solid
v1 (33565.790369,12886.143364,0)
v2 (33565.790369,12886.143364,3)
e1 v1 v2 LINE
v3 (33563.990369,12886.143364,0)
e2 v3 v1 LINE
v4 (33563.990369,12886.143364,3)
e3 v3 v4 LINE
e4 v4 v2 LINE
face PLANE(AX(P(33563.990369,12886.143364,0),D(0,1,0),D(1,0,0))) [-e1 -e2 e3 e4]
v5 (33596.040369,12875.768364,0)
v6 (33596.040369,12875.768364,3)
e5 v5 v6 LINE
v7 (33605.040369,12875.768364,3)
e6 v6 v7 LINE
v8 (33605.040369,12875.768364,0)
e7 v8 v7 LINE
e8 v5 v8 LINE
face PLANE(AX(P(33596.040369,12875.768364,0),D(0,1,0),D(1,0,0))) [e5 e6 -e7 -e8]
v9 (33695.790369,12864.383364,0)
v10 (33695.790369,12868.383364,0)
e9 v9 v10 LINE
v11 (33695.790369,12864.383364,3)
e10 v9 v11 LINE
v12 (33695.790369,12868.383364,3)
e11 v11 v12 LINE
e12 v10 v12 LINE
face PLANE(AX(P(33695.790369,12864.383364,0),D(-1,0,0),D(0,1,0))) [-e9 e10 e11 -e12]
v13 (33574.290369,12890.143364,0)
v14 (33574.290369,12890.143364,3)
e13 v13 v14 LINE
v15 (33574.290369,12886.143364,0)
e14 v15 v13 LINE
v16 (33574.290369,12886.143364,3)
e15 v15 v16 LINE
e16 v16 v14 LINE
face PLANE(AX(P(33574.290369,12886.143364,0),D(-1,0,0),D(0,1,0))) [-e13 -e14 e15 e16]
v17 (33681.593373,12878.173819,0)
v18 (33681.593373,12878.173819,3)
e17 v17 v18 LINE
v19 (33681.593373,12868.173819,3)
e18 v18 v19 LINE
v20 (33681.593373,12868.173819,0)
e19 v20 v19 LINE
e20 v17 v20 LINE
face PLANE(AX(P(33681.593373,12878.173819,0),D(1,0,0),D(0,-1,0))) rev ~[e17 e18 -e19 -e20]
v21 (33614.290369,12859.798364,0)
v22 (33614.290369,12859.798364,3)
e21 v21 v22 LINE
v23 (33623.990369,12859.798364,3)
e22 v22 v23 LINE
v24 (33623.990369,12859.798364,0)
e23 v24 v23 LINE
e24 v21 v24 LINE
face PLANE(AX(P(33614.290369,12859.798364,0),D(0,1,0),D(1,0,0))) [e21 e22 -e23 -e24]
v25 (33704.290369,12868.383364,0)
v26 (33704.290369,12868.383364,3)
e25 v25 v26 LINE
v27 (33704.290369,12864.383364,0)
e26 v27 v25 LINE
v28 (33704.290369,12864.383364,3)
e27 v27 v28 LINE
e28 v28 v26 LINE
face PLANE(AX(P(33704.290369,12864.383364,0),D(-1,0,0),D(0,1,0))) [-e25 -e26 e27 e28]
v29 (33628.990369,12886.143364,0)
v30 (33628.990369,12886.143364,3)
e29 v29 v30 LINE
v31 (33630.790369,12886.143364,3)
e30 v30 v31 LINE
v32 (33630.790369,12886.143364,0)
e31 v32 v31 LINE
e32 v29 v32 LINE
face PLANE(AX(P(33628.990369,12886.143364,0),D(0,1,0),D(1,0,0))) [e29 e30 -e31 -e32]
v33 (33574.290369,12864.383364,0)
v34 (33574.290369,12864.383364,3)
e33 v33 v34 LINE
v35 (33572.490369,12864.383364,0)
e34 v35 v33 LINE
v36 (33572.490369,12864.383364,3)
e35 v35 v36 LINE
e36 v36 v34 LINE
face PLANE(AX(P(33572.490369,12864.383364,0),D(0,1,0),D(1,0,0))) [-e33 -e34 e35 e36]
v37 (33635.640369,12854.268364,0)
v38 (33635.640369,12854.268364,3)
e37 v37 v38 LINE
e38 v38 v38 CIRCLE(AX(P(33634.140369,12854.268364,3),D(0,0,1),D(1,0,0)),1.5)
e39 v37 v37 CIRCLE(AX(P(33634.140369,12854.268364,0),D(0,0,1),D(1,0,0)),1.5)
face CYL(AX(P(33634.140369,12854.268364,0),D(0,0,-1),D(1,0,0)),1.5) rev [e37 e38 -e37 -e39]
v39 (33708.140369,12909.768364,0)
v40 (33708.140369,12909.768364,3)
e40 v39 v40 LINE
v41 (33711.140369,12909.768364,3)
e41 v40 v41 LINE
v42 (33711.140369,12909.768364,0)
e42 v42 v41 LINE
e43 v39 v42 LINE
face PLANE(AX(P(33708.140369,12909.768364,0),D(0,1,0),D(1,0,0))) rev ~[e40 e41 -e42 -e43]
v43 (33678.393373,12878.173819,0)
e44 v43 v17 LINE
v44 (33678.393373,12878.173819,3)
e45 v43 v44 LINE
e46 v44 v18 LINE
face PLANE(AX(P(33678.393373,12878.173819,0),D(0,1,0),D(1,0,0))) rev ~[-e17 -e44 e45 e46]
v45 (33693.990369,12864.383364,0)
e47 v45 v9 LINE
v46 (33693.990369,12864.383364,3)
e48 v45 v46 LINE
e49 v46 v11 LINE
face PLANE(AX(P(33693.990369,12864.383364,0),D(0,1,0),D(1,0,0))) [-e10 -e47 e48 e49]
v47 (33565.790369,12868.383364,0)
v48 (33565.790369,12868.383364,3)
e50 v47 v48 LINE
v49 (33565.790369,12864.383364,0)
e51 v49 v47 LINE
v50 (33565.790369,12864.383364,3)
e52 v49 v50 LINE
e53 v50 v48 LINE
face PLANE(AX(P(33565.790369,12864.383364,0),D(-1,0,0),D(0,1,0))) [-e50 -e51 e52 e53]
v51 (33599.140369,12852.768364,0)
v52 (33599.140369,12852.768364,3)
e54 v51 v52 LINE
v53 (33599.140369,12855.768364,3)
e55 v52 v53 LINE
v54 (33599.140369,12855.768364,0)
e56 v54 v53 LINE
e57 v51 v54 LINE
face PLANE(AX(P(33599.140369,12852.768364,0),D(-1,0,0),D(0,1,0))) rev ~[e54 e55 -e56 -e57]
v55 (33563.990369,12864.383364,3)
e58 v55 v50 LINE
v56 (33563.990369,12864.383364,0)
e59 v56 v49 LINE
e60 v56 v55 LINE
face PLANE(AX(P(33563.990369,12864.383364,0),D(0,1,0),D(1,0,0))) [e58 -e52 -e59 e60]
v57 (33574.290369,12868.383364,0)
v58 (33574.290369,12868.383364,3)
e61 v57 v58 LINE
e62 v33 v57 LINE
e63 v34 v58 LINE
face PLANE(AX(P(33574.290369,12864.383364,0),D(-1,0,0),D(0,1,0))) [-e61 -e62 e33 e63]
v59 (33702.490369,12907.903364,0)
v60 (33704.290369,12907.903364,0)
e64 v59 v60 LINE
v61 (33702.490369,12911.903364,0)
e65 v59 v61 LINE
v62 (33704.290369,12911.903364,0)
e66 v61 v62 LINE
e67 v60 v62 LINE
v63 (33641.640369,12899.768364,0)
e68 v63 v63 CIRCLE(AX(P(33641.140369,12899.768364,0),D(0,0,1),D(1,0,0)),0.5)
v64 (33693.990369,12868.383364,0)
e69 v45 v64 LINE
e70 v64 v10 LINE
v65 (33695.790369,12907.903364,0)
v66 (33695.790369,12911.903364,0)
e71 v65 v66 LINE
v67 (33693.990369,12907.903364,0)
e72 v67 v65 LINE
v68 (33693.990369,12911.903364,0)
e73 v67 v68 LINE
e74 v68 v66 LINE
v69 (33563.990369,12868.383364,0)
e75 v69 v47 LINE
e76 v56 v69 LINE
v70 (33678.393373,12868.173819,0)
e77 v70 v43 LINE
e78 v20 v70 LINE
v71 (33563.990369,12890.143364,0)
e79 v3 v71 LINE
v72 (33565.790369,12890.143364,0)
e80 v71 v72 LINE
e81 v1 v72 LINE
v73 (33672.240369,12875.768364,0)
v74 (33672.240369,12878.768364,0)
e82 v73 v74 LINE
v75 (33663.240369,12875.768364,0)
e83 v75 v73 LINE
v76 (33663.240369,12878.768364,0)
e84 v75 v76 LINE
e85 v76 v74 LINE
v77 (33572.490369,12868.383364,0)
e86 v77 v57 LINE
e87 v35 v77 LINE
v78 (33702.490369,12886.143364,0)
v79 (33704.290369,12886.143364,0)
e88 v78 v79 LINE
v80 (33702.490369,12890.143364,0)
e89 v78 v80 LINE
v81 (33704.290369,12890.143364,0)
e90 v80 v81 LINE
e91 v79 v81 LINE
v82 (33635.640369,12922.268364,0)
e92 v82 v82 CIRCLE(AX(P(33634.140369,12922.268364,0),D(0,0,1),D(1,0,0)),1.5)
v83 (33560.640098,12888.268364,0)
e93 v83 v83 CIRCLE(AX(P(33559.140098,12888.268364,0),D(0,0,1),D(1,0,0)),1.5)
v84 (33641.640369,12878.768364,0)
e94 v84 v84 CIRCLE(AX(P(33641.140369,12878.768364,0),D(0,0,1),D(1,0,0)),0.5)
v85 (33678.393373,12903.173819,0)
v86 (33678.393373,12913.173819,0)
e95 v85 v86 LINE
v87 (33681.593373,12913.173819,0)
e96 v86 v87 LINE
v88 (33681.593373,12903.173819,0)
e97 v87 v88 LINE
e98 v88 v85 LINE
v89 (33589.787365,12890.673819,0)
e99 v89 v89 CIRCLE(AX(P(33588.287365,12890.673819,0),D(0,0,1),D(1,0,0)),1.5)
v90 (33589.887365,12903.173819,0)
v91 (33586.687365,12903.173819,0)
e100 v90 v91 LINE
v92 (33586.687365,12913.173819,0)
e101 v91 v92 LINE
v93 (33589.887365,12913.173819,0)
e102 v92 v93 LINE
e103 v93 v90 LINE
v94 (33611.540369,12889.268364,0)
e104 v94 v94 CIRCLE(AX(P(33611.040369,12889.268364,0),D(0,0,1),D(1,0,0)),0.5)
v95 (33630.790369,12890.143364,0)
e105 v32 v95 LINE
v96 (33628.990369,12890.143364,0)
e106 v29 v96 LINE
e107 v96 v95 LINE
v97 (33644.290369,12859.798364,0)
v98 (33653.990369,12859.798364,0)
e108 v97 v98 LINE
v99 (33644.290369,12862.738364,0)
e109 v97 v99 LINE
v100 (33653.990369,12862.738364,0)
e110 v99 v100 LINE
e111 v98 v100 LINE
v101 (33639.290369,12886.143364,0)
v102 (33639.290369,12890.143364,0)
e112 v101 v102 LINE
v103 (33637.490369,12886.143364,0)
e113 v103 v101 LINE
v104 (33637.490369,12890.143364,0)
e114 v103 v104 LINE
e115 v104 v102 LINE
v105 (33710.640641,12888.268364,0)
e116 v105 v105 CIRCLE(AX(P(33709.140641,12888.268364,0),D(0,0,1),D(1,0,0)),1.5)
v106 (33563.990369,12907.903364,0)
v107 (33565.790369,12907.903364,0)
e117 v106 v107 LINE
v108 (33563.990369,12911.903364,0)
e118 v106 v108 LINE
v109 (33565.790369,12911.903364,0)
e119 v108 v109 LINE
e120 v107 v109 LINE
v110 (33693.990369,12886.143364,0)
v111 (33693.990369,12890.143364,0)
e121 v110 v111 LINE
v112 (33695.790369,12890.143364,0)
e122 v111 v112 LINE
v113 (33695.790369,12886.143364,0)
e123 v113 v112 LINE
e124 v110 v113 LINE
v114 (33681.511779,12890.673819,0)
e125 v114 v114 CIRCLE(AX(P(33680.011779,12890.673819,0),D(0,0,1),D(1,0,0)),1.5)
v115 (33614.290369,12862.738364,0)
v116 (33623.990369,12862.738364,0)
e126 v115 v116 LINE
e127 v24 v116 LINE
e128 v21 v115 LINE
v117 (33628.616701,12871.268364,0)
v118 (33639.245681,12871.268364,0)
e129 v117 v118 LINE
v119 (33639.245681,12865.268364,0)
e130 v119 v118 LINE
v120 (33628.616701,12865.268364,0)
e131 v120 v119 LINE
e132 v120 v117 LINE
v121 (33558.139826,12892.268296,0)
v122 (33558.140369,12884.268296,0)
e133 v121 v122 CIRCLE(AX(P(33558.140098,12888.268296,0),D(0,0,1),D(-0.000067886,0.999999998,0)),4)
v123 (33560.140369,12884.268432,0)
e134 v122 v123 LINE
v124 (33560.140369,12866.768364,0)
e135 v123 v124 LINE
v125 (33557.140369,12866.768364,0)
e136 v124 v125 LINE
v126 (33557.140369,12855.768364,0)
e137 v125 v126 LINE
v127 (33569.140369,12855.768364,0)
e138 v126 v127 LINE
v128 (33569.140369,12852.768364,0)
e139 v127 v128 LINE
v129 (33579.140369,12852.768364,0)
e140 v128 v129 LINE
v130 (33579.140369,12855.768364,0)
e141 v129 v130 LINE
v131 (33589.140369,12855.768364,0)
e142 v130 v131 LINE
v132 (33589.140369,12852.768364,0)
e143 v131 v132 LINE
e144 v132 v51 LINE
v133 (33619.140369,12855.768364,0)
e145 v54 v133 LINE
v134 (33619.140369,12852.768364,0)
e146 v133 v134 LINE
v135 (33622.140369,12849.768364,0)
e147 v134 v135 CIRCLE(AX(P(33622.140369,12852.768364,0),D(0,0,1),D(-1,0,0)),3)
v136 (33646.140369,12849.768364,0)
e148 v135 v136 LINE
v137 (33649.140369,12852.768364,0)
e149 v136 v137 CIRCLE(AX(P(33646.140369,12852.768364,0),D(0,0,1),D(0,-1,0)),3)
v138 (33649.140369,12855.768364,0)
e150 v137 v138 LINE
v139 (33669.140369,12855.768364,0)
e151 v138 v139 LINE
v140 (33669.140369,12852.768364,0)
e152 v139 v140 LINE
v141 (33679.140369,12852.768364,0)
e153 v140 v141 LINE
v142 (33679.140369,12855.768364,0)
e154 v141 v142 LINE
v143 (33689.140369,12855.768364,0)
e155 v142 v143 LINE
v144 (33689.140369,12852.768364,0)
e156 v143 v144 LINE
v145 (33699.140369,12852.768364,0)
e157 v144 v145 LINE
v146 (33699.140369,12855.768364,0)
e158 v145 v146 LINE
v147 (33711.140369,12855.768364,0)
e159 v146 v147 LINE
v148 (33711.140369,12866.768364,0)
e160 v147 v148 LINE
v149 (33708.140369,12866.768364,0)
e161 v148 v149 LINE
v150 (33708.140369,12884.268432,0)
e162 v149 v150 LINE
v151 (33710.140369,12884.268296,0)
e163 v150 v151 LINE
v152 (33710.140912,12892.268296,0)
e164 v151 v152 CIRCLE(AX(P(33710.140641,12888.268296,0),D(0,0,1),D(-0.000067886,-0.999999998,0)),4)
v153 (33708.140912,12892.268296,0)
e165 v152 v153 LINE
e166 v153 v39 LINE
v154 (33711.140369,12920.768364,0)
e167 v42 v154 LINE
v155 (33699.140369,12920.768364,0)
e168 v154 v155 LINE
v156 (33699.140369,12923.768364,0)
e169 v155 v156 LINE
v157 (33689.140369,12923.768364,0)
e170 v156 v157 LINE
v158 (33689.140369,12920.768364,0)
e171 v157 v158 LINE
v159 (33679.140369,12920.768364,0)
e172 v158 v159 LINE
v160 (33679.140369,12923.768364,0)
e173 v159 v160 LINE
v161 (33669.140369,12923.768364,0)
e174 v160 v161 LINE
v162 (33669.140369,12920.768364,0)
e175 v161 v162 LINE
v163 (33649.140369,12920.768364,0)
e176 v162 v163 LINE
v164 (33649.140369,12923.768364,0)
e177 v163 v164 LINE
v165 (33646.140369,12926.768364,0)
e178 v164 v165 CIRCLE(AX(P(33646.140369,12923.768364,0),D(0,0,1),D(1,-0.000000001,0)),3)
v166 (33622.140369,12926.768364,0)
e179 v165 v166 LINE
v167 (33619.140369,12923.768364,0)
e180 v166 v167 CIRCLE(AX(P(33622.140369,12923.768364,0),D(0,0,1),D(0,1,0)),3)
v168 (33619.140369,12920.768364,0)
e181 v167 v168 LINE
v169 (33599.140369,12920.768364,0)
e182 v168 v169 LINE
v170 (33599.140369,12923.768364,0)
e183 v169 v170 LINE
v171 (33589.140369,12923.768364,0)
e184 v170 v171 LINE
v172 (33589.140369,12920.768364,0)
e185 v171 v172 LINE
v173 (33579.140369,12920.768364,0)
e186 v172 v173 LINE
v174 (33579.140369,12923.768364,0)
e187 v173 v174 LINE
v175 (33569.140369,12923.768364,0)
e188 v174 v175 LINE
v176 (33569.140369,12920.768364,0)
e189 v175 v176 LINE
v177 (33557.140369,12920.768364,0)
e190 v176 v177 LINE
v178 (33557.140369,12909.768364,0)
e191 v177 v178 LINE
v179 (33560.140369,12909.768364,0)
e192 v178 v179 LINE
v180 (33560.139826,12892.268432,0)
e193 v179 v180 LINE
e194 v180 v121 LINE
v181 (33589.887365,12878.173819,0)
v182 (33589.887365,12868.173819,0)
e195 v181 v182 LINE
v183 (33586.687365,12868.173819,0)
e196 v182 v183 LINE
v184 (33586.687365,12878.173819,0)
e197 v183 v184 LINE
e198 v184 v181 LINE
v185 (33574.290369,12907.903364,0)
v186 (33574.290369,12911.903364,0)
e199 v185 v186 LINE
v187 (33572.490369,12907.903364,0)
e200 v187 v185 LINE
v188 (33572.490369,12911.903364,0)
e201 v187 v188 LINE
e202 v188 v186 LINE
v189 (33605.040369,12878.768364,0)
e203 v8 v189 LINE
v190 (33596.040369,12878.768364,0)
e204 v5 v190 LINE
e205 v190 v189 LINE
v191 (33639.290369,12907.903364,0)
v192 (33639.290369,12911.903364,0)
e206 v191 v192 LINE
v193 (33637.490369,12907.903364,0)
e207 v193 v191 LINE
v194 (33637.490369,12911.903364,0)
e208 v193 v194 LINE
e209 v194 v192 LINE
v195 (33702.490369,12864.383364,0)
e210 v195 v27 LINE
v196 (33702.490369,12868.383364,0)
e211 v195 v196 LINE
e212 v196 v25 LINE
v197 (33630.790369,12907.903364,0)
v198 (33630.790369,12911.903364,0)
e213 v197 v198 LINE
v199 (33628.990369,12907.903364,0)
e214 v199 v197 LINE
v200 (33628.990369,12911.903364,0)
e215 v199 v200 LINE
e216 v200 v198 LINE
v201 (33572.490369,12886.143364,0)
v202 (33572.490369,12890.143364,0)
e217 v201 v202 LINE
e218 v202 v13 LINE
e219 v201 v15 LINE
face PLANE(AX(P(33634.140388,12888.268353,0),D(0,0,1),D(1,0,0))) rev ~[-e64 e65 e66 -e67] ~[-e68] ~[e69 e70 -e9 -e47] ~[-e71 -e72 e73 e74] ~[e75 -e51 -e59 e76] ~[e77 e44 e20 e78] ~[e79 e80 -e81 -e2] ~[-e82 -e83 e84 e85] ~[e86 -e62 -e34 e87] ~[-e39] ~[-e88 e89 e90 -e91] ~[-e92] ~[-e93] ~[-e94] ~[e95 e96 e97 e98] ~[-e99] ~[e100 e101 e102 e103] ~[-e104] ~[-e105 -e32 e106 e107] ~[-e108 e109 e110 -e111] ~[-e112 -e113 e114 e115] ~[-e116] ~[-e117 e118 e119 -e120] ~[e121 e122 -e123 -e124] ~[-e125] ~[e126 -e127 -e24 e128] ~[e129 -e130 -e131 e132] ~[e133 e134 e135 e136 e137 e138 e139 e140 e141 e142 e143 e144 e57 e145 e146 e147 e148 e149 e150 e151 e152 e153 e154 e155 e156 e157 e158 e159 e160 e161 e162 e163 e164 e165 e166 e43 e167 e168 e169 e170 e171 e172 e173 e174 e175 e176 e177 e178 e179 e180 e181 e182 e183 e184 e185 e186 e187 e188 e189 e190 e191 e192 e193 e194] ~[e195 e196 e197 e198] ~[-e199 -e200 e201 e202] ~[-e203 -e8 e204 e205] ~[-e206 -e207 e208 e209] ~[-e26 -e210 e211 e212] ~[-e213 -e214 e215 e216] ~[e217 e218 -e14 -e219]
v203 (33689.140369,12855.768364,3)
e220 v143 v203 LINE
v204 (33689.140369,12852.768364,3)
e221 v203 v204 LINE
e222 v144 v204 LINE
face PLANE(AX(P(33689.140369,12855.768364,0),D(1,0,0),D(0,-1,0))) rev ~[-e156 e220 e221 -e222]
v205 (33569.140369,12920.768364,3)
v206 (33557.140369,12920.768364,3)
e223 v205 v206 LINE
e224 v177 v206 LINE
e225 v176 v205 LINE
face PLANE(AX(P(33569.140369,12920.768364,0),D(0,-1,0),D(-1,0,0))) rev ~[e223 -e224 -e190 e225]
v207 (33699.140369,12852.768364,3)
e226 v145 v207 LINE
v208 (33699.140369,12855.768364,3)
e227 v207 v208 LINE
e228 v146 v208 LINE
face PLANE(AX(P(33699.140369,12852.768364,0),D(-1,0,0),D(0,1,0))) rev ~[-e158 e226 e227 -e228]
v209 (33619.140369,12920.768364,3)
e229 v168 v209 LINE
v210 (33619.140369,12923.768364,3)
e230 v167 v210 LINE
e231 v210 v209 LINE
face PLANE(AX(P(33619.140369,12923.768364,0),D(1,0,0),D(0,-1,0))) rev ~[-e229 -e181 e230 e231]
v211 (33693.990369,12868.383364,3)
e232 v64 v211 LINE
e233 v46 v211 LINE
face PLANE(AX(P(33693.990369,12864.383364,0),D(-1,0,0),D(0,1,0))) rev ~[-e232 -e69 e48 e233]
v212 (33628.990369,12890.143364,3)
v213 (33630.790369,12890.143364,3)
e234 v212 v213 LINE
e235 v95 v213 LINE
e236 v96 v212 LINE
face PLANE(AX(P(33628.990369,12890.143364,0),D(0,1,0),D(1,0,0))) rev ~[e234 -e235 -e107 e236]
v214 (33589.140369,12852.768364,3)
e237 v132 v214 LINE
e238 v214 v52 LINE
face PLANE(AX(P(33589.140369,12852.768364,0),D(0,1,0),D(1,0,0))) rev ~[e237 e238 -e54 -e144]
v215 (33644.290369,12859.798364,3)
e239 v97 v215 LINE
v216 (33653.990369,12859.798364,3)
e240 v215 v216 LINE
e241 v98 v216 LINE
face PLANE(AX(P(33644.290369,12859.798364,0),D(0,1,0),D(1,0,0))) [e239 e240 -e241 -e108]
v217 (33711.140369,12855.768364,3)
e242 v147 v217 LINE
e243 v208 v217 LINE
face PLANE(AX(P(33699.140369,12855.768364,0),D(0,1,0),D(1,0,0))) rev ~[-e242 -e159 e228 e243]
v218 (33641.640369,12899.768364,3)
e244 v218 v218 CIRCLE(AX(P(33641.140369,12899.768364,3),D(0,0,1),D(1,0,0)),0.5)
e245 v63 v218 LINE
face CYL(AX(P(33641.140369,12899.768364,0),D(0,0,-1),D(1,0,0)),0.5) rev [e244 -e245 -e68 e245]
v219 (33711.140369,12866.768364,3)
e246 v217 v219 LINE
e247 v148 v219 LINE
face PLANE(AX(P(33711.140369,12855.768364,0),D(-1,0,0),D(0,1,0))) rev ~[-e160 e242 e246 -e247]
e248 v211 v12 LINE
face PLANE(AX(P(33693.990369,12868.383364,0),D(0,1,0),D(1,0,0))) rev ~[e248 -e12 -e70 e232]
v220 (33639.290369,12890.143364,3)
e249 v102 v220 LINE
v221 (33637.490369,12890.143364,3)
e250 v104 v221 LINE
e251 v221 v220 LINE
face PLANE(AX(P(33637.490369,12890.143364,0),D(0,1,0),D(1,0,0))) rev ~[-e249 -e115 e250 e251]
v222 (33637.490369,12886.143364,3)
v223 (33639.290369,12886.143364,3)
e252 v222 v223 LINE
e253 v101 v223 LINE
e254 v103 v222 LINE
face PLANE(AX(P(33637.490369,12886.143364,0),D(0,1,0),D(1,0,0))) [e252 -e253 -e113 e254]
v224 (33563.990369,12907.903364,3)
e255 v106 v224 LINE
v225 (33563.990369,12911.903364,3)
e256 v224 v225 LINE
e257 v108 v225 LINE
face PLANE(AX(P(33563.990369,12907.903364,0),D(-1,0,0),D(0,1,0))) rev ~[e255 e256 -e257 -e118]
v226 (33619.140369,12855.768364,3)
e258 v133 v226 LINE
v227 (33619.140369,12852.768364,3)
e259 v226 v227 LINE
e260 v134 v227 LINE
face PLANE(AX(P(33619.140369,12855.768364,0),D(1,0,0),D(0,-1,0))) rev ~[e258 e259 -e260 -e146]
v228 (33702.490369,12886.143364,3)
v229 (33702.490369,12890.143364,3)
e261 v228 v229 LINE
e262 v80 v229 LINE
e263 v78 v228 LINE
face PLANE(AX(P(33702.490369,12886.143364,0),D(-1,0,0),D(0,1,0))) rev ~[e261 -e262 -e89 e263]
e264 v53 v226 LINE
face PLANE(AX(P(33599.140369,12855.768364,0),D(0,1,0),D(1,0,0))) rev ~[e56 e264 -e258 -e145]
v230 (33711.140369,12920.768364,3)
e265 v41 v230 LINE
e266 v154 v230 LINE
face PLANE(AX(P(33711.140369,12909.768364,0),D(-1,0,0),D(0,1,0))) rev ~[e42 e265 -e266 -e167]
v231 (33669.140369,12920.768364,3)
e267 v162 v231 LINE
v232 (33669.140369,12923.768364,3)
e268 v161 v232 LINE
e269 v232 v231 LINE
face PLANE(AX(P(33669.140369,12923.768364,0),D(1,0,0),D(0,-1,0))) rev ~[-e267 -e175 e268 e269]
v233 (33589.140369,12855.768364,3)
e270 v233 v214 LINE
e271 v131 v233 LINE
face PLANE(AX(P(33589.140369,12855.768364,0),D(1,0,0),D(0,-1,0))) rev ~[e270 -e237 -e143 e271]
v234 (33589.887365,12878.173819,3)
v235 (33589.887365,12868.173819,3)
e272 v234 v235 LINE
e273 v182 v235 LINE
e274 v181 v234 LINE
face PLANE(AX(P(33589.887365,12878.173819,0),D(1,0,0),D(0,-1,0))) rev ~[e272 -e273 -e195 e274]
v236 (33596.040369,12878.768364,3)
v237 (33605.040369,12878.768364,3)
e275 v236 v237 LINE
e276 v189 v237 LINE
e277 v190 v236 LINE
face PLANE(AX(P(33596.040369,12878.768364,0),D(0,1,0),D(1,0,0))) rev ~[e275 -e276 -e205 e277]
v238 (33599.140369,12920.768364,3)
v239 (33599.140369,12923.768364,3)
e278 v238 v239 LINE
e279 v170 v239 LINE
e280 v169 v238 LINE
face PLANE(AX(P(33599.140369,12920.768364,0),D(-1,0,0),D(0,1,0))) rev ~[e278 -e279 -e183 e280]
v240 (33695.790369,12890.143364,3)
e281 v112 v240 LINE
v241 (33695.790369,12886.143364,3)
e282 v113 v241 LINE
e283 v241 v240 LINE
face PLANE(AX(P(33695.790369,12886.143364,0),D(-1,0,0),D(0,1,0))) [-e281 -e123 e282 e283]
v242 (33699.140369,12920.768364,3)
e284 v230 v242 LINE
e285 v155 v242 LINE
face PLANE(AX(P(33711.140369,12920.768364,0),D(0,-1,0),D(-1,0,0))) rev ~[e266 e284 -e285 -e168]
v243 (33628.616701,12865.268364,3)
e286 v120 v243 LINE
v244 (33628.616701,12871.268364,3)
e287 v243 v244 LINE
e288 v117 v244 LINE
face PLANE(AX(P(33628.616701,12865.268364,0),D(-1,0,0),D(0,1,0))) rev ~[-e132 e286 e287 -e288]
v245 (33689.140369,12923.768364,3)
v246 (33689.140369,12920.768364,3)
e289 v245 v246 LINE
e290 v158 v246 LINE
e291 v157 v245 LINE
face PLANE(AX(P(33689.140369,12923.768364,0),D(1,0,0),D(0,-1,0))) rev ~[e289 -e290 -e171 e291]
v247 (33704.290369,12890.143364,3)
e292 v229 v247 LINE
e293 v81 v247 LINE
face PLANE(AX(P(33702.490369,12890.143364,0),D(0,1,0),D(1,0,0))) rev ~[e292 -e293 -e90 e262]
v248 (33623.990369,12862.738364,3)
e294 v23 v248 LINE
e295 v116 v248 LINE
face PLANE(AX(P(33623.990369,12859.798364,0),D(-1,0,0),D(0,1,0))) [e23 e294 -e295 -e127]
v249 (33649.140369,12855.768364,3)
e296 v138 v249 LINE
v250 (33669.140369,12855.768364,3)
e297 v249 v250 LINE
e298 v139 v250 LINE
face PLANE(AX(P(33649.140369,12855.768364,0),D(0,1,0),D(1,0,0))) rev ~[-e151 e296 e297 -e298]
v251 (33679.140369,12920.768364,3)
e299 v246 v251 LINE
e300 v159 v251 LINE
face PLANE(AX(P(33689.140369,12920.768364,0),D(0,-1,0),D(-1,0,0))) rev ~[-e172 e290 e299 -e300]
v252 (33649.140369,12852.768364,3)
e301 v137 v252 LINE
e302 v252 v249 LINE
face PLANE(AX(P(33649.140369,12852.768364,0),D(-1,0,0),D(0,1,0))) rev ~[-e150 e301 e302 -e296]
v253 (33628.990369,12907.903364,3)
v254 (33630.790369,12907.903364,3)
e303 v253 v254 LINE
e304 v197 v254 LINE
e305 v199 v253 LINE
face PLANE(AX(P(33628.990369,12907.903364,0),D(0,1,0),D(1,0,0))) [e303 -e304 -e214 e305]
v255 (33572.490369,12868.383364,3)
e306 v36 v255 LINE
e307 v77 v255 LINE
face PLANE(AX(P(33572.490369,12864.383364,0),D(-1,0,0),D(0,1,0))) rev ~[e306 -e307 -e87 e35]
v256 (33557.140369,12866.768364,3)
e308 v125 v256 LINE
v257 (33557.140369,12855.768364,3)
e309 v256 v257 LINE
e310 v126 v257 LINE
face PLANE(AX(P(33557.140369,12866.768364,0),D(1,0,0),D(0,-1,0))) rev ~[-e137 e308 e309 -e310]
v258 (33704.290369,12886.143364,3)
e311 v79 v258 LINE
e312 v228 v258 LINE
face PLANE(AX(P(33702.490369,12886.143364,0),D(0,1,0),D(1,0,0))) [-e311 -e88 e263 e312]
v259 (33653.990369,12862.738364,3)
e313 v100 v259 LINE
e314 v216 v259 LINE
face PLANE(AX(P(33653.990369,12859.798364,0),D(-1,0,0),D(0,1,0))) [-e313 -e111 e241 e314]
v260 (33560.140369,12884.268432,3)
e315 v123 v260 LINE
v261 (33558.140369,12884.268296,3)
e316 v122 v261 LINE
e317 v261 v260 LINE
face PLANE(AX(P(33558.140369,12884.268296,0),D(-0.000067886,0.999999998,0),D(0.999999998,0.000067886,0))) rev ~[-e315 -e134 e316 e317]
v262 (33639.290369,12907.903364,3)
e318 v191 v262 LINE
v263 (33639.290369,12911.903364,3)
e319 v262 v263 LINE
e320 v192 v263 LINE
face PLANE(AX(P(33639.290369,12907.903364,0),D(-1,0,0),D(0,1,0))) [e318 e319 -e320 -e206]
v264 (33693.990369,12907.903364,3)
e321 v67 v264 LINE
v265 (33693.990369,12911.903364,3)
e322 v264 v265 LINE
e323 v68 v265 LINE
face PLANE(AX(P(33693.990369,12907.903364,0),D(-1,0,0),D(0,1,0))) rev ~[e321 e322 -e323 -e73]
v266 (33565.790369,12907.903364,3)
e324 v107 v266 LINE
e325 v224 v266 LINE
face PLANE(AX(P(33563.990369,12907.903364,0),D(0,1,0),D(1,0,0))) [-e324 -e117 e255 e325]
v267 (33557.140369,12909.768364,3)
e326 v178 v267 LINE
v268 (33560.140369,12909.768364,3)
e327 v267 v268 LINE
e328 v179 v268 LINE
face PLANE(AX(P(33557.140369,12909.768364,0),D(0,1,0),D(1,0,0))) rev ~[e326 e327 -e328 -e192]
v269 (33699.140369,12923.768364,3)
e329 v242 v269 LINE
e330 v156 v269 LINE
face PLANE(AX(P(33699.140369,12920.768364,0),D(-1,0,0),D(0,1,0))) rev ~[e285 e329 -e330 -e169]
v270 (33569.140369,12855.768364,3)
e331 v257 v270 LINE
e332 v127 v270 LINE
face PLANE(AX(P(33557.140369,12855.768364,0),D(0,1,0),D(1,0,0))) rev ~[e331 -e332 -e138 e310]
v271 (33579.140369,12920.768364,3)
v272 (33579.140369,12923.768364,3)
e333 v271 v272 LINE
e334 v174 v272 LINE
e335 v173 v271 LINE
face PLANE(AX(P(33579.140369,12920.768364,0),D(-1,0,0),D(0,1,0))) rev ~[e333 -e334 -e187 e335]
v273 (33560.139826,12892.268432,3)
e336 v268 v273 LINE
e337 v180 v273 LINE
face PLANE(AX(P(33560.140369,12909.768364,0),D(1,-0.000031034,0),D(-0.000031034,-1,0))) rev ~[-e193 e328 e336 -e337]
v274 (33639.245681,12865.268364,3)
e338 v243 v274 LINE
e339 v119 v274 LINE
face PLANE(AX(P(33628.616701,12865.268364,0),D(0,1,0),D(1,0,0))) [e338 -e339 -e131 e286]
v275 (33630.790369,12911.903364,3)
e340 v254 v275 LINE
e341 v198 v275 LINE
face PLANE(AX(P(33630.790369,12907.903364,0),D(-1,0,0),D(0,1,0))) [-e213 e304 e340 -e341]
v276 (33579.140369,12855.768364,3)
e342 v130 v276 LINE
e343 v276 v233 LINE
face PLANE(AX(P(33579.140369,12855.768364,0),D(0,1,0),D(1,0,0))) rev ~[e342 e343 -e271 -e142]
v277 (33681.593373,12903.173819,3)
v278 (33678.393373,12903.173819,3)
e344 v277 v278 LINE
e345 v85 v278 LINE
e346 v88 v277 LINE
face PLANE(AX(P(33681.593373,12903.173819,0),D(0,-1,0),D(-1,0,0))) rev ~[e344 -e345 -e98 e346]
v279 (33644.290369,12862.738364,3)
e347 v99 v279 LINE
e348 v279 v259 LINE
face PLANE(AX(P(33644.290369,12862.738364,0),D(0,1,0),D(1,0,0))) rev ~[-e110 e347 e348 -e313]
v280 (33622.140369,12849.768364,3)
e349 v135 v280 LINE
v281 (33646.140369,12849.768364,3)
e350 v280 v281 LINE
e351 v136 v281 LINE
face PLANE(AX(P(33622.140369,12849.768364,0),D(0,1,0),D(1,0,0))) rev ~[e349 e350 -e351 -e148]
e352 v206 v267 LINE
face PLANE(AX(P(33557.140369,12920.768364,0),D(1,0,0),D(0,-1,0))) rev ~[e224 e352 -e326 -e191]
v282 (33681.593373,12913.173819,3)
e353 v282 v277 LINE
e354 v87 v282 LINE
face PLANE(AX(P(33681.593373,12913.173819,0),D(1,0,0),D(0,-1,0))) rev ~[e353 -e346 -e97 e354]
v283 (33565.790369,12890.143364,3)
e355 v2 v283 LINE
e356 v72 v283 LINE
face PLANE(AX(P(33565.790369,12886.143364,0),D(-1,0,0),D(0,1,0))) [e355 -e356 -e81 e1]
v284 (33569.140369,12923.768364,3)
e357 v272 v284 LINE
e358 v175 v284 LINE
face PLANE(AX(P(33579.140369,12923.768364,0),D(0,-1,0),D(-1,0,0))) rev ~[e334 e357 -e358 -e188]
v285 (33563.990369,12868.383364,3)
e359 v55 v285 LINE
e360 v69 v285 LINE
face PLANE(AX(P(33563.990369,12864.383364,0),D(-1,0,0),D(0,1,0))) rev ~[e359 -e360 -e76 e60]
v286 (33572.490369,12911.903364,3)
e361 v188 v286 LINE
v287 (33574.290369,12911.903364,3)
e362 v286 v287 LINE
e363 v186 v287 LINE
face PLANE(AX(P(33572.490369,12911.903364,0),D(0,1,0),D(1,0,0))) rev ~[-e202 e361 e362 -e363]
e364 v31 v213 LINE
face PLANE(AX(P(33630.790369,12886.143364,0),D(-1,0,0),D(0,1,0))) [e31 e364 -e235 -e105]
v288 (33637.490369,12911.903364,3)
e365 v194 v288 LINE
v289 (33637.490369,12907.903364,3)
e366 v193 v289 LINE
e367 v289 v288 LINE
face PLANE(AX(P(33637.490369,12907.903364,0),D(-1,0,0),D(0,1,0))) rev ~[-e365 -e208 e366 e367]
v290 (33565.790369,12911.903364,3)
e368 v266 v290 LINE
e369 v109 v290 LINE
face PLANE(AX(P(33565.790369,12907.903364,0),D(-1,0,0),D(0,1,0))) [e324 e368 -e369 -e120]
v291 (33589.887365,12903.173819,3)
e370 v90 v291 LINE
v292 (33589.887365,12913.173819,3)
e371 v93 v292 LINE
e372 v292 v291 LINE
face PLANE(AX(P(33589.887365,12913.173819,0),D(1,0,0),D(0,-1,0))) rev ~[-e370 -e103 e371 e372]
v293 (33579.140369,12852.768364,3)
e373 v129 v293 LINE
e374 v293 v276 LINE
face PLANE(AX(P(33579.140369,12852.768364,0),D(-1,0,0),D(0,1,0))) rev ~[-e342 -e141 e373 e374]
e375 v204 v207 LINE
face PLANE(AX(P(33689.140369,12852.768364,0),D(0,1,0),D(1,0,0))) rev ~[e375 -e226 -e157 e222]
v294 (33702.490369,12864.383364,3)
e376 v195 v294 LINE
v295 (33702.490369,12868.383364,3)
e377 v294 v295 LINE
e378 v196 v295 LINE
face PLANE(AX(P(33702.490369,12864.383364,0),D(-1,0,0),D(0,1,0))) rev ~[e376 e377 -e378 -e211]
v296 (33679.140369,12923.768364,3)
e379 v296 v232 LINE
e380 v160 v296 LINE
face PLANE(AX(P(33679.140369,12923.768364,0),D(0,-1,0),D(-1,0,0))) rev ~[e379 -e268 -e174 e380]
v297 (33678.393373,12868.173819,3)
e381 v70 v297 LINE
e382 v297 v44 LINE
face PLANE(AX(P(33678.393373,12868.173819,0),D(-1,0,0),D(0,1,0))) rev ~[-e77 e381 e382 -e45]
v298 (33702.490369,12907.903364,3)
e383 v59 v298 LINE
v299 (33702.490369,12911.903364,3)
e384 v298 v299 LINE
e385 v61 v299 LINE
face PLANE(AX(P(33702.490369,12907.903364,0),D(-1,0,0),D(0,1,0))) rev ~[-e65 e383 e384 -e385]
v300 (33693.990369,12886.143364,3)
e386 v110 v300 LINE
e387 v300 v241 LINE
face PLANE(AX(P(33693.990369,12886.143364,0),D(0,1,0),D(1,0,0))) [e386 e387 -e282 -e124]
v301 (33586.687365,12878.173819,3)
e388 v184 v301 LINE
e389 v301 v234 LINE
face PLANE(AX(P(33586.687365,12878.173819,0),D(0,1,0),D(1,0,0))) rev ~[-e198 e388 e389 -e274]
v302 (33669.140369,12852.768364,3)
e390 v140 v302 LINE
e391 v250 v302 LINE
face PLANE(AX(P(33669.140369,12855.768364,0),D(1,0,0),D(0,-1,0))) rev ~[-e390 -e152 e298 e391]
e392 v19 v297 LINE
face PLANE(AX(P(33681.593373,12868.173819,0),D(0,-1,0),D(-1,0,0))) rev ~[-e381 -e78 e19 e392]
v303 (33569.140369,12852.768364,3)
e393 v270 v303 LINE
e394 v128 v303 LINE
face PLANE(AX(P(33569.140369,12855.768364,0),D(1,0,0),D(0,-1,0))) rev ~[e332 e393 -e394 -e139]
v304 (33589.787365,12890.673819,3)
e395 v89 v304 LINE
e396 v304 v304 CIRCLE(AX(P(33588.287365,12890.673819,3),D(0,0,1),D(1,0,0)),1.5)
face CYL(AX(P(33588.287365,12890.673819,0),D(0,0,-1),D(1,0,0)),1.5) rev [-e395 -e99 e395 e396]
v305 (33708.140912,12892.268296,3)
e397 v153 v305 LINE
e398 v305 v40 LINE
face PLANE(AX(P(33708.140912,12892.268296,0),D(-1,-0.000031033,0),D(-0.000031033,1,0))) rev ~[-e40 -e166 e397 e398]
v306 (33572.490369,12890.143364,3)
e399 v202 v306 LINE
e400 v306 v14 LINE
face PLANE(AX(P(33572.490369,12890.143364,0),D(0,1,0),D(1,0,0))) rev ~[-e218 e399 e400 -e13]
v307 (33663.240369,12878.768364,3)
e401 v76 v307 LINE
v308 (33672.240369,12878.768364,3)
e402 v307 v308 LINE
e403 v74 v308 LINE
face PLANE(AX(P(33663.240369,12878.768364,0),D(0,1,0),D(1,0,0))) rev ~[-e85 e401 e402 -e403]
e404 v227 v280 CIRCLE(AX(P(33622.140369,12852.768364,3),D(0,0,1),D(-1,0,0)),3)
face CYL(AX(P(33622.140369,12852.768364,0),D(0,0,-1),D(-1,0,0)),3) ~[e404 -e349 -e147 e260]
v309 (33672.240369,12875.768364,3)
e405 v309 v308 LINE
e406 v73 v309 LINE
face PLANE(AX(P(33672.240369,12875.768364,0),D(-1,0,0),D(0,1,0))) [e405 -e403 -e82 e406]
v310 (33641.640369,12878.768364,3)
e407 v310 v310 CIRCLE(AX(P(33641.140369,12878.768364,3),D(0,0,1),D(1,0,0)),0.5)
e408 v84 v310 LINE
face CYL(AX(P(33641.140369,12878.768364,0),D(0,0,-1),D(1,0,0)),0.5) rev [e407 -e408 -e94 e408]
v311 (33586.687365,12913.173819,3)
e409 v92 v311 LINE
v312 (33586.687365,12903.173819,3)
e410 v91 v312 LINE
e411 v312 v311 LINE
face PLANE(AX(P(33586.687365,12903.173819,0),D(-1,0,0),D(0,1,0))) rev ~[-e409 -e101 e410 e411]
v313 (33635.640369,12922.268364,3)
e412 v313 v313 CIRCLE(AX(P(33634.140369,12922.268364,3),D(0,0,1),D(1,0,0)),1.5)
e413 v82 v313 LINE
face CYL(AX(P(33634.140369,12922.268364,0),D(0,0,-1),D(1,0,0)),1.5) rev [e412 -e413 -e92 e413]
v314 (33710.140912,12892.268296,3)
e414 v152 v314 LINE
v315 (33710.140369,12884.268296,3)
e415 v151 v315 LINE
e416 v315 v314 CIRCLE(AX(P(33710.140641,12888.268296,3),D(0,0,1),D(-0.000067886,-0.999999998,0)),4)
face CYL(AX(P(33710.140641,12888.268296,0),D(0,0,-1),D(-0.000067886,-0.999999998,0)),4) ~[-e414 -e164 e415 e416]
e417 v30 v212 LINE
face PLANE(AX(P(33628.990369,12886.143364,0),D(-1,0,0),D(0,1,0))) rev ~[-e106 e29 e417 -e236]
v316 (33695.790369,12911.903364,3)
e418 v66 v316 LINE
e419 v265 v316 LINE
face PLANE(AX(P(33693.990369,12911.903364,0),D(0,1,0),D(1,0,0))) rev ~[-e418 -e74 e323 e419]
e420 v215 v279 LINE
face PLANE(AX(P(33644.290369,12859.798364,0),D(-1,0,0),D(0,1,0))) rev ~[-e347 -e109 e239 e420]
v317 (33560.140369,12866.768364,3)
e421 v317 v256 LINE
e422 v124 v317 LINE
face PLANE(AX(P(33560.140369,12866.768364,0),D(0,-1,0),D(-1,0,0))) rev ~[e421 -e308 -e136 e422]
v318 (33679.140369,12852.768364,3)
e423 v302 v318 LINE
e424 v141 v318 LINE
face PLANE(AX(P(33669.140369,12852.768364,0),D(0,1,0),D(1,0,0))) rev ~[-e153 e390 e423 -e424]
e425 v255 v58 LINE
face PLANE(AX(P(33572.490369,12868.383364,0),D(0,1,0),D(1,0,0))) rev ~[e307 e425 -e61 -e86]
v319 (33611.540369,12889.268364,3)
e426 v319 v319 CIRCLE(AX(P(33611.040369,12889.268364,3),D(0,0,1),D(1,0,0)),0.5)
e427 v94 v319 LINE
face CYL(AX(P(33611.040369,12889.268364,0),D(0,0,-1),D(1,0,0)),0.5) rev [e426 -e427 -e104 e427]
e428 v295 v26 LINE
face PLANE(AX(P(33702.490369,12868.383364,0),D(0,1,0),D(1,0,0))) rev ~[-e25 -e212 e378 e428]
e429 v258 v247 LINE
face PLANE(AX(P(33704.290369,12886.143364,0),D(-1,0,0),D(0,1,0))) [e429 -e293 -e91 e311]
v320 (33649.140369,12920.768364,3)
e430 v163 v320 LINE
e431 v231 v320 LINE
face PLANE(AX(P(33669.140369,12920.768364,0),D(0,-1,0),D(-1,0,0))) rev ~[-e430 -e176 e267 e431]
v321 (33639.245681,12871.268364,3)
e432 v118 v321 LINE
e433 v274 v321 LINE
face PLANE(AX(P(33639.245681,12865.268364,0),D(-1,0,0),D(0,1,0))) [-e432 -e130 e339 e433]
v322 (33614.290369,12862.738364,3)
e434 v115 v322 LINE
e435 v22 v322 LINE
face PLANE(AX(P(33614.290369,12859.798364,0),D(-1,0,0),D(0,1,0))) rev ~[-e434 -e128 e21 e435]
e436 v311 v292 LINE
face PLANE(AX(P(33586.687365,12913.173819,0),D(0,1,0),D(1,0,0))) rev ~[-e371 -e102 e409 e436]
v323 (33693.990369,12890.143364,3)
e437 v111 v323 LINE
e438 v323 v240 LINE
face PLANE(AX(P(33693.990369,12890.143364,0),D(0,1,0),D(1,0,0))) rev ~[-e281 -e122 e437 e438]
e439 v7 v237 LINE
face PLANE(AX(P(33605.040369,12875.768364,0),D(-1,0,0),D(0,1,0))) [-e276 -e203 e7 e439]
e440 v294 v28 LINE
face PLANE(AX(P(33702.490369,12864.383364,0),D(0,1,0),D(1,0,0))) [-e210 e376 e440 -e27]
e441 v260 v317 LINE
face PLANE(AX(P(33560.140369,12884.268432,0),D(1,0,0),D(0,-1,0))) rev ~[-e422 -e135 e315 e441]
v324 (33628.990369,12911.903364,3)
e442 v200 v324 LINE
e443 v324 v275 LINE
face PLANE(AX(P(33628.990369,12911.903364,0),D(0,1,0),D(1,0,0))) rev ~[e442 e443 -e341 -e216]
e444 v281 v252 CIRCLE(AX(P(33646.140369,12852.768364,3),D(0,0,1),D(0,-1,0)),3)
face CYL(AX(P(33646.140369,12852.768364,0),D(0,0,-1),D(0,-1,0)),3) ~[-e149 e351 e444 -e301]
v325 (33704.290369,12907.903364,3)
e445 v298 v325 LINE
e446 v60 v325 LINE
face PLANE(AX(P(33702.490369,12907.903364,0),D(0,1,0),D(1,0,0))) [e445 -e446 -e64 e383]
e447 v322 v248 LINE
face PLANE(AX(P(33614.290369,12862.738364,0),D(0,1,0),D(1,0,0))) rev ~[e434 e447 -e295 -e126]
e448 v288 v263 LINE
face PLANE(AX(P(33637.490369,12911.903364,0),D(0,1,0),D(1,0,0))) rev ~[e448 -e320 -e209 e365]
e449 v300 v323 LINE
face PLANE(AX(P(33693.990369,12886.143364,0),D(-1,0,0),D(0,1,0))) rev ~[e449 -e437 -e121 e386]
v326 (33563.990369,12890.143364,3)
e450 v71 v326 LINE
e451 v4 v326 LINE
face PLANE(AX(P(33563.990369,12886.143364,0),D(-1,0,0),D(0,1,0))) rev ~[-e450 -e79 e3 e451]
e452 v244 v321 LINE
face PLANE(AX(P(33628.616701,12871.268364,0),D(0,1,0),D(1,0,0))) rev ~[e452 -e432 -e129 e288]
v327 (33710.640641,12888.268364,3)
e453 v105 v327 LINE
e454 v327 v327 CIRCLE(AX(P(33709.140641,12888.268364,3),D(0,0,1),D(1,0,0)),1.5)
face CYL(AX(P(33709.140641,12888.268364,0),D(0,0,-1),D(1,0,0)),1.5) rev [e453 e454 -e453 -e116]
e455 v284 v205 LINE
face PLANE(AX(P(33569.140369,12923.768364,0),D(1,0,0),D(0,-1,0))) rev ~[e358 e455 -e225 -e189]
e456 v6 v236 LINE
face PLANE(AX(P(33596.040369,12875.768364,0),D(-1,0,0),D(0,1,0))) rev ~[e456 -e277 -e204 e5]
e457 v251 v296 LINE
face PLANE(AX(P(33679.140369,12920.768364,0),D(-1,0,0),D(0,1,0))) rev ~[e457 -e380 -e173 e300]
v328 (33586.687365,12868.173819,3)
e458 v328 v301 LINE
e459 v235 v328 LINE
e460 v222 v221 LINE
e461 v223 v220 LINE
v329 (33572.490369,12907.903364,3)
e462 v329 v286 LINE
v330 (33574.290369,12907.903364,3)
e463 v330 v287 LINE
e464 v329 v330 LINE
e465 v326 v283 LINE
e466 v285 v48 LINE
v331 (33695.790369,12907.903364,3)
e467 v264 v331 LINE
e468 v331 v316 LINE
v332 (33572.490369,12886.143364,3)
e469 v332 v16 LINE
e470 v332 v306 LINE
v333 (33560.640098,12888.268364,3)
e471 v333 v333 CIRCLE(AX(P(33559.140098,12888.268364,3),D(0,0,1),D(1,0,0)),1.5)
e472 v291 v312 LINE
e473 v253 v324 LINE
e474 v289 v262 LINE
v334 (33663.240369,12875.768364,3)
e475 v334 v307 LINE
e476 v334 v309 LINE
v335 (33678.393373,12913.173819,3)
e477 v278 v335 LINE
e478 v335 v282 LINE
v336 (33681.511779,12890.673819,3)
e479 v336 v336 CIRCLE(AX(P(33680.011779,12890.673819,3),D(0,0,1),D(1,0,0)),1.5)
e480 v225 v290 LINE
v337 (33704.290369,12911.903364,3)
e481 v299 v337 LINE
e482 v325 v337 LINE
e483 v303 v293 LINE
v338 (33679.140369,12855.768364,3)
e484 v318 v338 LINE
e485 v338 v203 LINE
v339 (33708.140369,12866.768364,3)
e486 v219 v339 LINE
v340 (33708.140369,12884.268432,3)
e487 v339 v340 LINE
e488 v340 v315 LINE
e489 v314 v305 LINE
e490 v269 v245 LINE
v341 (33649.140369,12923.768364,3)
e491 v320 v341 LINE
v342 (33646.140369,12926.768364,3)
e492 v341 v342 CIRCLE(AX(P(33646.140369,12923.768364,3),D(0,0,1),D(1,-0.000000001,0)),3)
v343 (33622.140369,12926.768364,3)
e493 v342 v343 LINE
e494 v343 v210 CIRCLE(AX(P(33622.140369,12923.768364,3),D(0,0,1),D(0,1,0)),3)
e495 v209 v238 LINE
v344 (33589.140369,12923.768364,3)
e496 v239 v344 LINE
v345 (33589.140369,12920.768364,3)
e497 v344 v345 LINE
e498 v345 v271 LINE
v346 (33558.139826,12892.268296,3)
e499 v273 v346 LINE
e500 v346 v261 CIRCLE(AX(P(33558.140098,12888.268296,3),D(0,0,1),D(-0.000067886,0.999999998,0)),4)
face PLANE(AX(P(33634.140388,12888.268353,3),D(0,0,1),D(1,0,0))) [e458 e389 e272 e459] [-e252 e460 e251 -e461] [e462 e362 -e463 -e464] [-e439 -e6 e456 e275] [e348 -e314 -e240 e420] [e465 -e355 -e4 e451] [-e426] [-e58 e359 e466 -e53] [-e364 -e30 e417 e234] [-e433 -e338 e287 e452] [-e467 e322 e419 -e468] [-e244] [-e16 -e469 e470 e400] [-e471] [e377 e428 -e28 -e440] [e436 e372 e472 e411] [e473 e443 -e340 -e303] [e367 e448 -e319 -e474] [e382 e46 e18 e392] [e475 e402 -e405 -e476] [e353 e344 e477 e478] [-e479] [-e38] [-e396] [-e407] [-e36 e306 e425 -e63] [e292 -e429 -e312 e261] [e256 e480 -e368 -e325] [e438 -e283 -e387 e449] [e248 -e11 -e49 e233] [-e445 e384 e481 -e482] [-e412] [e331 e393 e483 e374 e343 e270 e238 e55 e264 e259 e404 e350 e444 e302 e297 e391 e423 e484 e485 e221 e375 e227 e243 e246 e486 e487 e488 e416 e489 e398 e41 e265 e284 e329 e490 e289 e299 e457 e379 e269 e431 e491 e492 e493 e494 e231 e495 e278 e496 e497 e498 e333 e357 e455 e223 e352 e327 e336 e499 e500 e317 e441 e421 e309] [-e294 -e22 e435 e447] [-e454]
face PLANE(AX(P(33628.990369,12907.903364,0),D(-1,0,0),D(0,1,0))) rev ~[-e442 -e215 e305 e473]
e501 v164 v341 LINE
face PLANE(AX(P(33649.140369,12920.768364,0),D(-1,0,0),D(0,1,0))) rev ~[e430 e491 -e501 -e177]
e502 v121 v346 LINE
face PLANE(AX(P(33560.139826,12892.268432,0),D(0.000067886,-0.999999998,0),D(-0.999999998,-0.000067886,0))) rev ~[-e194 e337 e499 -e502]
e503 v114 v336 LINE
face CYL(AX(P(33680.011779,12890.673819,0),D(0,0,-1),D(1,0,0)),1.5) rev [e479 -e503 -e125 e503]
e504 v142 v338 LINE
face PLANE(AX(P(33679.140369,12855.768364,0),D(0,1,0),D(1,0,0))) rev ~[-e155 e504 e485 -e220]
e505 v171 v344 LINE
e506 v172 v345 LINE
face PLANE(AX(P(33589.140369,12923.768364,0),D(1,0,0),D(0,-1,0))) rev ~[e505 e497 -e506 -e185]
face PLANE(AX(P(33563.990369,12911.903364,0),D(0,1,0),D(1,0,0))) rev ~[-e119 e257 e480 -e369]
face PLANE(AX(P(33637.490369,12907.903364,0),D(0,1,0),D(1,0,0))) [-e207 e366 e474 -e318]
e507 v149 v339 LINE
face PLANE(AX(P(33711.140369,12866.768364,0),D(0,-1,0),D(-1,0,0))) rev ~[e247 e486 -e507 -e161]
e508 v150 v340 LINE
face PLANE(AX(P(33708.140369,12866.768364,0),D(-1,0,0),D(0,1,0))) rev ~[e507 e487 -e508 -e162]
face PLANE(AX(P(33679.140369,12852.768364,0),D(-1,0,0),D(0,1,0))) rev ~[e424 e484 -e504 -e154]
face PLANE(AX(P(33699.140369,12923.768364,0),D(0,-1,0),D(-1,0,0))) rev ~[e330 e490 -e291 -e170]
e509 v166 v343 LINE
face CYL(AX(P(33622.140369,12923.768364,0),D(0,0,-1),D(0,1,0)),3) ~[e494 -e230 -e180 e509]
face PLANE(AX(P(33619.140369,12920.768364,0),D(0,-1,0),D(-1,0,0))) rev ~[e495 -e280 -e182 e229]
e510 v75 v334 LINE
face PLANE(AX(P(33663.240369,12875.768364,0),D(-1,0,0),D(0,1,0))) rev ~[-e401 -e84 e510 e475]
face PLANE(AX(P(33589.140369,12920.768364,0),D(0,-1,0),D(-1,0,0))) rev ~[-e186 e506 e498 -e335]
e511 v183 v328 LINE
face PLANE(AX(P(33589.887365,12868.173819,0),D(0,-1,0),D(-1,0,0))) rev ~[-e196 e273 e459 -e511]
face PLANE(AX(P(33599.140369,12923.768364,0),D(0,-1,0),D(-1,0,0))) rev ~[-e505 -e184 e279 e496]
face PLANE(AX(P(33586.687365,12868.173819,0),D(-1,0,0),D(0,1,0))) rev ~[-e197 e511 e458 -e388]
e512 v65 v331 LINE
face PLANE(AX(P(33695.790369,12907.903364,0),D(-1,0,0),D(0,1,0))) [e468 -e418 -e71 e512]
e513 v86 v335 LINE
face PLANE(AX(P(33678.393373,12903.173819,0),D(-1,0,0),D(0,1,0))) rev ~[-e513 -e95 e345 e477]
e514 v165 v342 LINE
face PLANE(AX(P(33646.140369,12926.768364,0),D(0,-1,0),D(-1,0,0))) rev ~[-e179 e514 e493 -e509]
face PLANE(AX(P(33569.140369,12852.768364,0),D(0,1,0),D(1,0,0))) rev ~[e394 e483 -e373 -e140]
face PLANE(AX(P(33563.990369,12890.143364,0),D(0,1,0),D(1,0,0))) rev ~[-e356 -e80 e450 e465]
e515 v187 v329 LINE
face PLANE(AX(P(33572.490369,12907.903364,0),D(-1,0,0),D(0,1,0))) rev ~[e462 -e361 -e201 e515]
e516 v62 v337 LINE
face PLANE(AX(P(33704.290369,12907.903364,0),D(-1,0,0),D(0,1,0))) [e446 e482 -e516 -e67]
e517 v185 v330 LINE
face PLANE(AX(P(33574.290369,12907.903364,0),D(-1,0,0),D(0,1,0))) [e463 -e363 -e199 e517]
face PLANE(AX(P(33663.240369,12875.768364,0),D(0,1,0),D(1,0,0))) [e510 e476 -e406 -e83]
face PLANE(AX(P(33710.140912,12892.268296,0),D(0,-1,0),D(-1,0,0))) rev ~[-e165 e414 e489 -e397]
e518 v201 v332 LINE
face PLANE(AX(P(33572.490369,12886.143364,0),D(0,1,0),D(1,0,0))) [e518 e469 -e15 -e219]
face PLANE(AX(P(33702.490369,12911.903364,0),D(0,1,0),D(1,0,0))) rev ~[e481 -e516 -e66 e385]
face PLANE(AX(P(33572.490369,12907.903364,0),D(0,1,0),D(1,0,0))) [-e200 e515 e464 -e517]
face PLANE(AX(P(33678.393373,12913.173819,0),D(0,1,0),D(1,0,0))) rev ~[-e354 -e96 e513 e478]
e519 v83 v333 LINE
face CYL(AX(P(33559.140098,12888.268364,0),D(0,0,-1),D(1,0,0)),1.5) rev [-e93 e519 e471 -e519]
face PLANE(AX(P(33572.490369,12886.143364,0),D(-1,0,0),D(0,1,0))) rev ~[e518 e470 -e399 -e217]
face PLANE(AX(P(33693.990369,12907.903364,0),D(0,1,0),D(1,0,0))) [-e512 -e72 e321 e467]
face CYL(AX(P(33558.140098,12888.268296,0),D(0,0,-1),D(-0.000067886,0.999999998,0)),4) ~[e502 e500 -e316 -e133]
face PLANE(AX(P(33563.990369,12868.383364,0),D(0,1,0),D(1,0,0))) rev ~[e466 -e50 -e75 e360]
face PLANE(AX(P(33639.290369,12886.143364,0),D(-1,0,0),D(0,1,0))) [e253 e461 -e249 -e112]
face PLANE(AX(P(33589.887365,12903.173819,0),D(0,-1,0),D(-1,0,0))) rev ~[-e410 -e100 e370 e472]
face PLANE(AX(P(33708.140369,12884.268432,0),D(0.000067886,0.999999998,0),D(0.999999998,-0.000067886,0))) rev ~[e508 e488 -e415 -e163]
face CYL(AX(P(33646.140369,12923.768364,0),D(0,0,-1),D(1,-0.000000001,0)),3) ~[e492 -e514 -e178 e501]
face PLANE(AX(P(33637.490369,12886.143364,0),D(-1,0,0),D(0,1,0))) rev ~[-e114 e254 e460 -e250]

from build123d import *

# Parameters (mm, degrees)
CROQUIS2_R              = 0.5
CROQUIS2_R_2            = 1.5
CROQUIS2_W              = 1.8
CROQUIS2_H              = 4
CROQUIS2_W_2            = 9
CROQUIS2_H_2            = 3
CROQUIS2_W_3            = 9.7
CROQUIS2_H_3            = 2.94
CROQUIS2_W_4            = 10.628979849
CROQUIS2_H_4            = 6
SALIENTE_EXTRUIR1_DEPTH = 3


with BuildPart() as part:
    # Croquis2 → Saliente-Extruir1 (new body)
    with BuildSketch(Plane.XY):
        with BuildLine():
            Line((33708.140369107, 12866.76836421), (33708.140369107, 12884.268432106))
            Line((33708.140369107, 12884.268432106), (33710.140369103, 12884.268296333))
            ThreePointArc((33710.140369103, 12884.268296333), (33714.140640639, 12888.268024778), (33710.140912194, 12892.268296314))
            Line((33710.140912194, 12892.268296314), (33708.14091219, 12892.268296314))
            Line((33708.14091219, 12892.268296314), (33708.140369107, 12909.76836421))
            Line((33708.140369107, 12909.76836421), (33711.140369107, 12909.76836421))
            Line((33711.140369107, 12909.76836421), (33711.140369107, 12920.76836421))
            Line((33711.140369107, 12920.76836421), (33699.140369107, 12920.76836421))
            Line((33699.140369107, 12920.76836421), (33699.140369107, 12923.76836421))
            Line((33699.140369107, 12923.76836421), (33689.140369107, 12923.76836421))
            Line((33689.140369107, 12923.76836421), (33689.140369107, 12920.76836421))
            Line((33689.140369107, 12920.76836421), (33679.140369107, 12920.76836421))
            Line((33679.140369107, 12920.76836421), (33679.140369107, 12923.76836421))
            Line((33679.140369107, 12923.76836421), (33669.140369107, 12923.76836421))
            Line((33669.140369107, 12923.76836421), (33669.140369107, 12920.76836421))
            Line((33669.140369107, 12920.76836421), (33649.140369107, 12920.76836421))
            Line((33649.140369107, 12920.76836421), (33649.140369107, 12923.76836421))
            ThreePointArc((33649.140369107, 12923.76836421), (33648.261689451, 12925.889684554), (33646.140369107, 12926.76836421))
            Line((33646.140369107, 12926.76836421), (33622.140369107, 12926.76836421))
            ThreePointArc((33622.140369107, 12926.76836421), (33620.019048764, 12925.889684554), (33619.140369107, 12923.76836421))
            Line((33619.140369107, 12923.76836421), (33619.140369107, 12920.76836421))
            Line((33619.140369107, 12920.76836421), (33599.140369107, 12920.76836421))
            Line((33599.140369107, 12920.76836421), (33599.140369107, 12923.76836421))
            Line((33599.140369107, 12923.76836421), (33589.140369107, 12923.76836421))
            Line((33589.140369107, 12923.76836421), (33589.140369107, 12920.76836421))
            Line((33589.140369107, 12920.76836421), (33579.140369107, 12920.76836421))
            Line((33579.140369107, 12920.76836421), (33579.140369107, 12923.76836421))
            Line((33579.140369107, 12923.76836421), (33569.140369107, 12923.76836421))
            Line((33569.140369107, 12923.76836421), (33569.140369107, 12920.76836421))
            Line((33569.140369107, 12920.76836421), (33557.140369107, 12920.76836421))
            Line((33557.140369107, 12920.76836421), (33557.140369107, 12909.76836421))
            Line((33557.140369107, 12909.76836421), (33560.140369107, 12909.76836421))
            Line((33560.140369107, 12909.76836421), (33560.139826016, 12892.268432087))
            Line((33560.139826016, 12892.268432087), (33558.13982602, 12892.268296314))
            ThreePointArc((33558.13982602, 12892.268296314), (33554.140097575, 12888.268024778), (33558.140369112, 12884.268296333))
            Line((33558.140369112, 12884.268296333), (33560.140369107, 12884.268432106))
            Line((33560.140369107, 12884.268432106), (33560.140369107, 12866.76836421))
            Line((33560.140369107, 12866.76836421), (33559.115527824, 12866.76836421))
            Line((33559.115527824, 12866.76836421), (33558.815527824, 12866.76836421))
            Line((33558.815527824, 12866.76836421), (33557.140369107, 12866.76836421))
            Line((33557.140369107, 12866.76836421), (33557.140369107, 12861.352876793))
            Line((33557.140369107, 12861.352876793), (33557.140369107, 12861.058331403))
            Line((33557.140369107, 12861.058331403), (33557.140369107, 12855.76836421))
            Line((33557.140369107, 12855.76836421), (33569.140369107, 12855.76836421))
            Line((33569.140369107, 12855.76836421), (33569.140369107, 12852.76836421))
            Line((33569.140369107, 12852.76836421), (33579.140369107, 12852.76836421))
            Line((33579.140369107, 12852.76836421), (33579.140369107, 12855.76836421))
            Line((33579.140369107, 12855.76836421), (33589.140369107, 12855.76836421))
            Line((33589.140369107, 12855.76836421), (33589.140369107, 12852.76836421))
            Line((33589.140369107, 12852.76836421), (33599.140369107, 12852.76836421))
            Line((33599.140369107, 12852.76836421), (33599.140369107, 12855.76836421))
            Line((33599.140369107, 12855.76836421), (33609.140369107, 12855.76836421))
            Line((33609.140369107, 12855.76836421), (33619.140369107, 12855.76836421))
            Line((33619.140369107, 12855.76836421), (33619.140369107, 12852.76836421))
            ThreePointArc((33619.140369107, 12852.76836421), (33620.019048764, 12850.647043866), (33622.140369107, 12849.76836421))
            Line((33622.140369107, 12849.76836421), (33646.140369107, 12849.76836421))
            ThreePointArc((33646.140369107, 12849.76836421), (33648.261689451, 12850.647043866), (33649.140369107, 12852.76836421))
            Line((33649.140369107, 12852.76836421), (33649.140369107, 12855.76836421))
            Line((33649.140369107, 12855.76836421), (33659.140369107, 12855.76836421))
            Line((33659.140369107, 12855.76836421), (33665.009331237, 12855.76836421))
            Line((33665.009331237, 12855.76836421), (33665.309331237, 12855.76836421))
            Line((33665.309331237, 12855.76836421), (33669.140369107, 12855.76836421))
            Line((33669.140369107, 12855.76836421), (33669.140369107, 12852.76836421))
            Line((33669.140369107, 12852.76836421), (33679.140369107, 12852.76836421))
            Line((33679.140369107, 12852.76836421), (33679.140369107, 12855.76836421))
            Line((33679.140369107, 12855.76836421), (33685.009331237, 12855.76836421))
            Line((33685.009331237, 12855.76836421), (33685.309331237, 12855.76836421))
            Line((33685.309331237, 12855.76836421), (33689.140369107, 12855.76836421))
            Line((33689.140369107, 12855.76836421), (33689.140369107, 12852.76836421))
            Line((33689.140369107, 12852.76836421), (33699.140369107, 12852.76836421))
            Line((33699.140369107, 12852.76836421), (33699.140369107, 12855.76836421))
            Line((33699.140369107, 12855.76836421), (33711.140369107, 12855.76836421))
            Line((33711.140369107, 12855.76836421), (33711.140369107, 12866.76836421))
            Line((33711.140369107, 12866.76836421), (33708.140369107, 12866.76836421))
        make_face()
        with Locations((33641.140369107, 12899.76836421)):
            Circle(CROQUIS2_R, mode=Mode.SUBTRACT)
        with Locations((33641.140369107, 12878.76836421)):
            Circle(CROQUIS2_R, mode=Mode.SUBTRACT)
        with Locations((33680.011779321, 12890.673818632)):
            Circle(CROQUIS2_R_2, mode=Mode.SUBTRACT)
        with Locations((33588.287365241, 12890.673818632)):
            Circle(CROQUIS2_R_2, mode=Mode.SUBTRACT)
        with Locations((33611.040369107, 12889.26836421)):
            Circle(CROQUIS2_R, mode=Mode.SUBTRACT)
        with Locations((33709.140640651, 12888.26836421)):
            Circle(CROQUIS2_R_2, mode=Mode.SUBTRACT)
        with Locations((33559.140097564, 12888.26836421)):
            Circle(CROQUIS2_R_2, mode=Mode.SUBTRACT)
        with Locations((33634.140369107, 12922.26836421)):
            Circle(CROQUIS2_R_2, mode=Mode.SUBTRACT)
        with Locations((33634.140369107, 12854.26836421)):
            Circle(CROQUIS2_R_2, mode=Mode.SUBTRACT)
        Polygon((33589.787365241, 12868.173818632), (33586.787365241, 12868.173818632), (33586.687365241, 12868.173818632), (33586.687365241, 12878.173818632), (33586.787365241, 12878.173818632), (33589.787365241, 12878.173818632), (33589.887365241, 12878.173818632), (33589.887365241, 12868.173818632), align=None, mode=Mode.SUBTRACT)
        Polygon((33589.787365241, 12903.173818632), (33586.787365241, 12903.173818632), (33586.737365241, 12903.173818632), (33586.687365241, 12903.173818632), (33586.687365241, 12913.173818632), (33586.787365241, 12913.173818632), (33589.787365241, 12913.173818632), (33589.887365241, 12913.173818632), (33589.887365241, 12903.173818632), (33589.837365241, 12903.173818632), align=None, mode=Mode.SUBTRACT)
        Polygon((33681.493372973, 12868.173818632), (33678.493372973, 12868.173818632), (33678.393372973, 12868.173818632), (33678.393372973, 12878.173818632), (33678.493372973, 12878.173818632), (33681.493372973, 12878.173818632), (33681.593372973, 12878.173818632), (33681.593372973, 12868.173818632), align=None, mode=Mode.SUBTRACT)
        Polygon((33681.493372973, 12903.173818632), (33678.493372973, 12903.173818632), (33678.393372973, 12903.173818632), (33678.393372973, 12913.173818632), (33678.493372973, 12913.173818632), (33681.493372973, 12913.173818632), (33681.593372973, 12913.173818632), (33681.593372973, 12903.173818632), align=None, mode=Mode.SUBTRACT)
        with Locations((33564.890369107, 12909.90336421)):
            Rectangle(CROQUIS2_W, CROQUIS2_H, mode=Mode.SUBTRACT)
        with Locations((33573.390369107, 12909.90336421)):
            Rectangle(CROQUIS2_W, CROQUIS2_H, mode=Mode.SUBTRACT)
        with Locations((33564.890369107, 12888.14336421)):
            Rectangle(CROQUIS2_W, CROQUIS2_H, mode=Mode.SUBTRACT)
        with Locations((33573.390369107, 12888.14336421)):
            Rectangle(CROQUIS2_W, CROQUIS2_H, mode=Mode.SUBTRACT)
        with Locations((33564.890369107, 12866.38336421)):
            Rectangle(CROQUIS2_W, CROQUIS2_H, mode=Mode.SUBTRACT)
        with Locations((33573.390369107, 12866.38336421)):
            Rectangle(CROQUIS2_W, CROQUIS2_H, mode=Mode.SUBTRACT)
        with Locations((33600.540369107, 12877.26836421)):
            Rectangle(CROQUIS2_W_2, CROQUIS2_H_2, mode=Mode.SUBTRACT)
        with Locations((33619.140369107, 12861.26836421)):
            Rectangle(CROQUIS2_W_3, CROQUIS2_H_3, mode=Mode.SUBTRACT)
        with Locations((33633.931190824, 12868.26836421)):
            Rectangle(CROQUIS2_W_4, CROQUIS2_H_4, mode=Mode.SUBTRACT)
        with Locations((33629.890369107, 12888.14336421)):
            Rectangle(CROQUIS2_W, CROQUIS2_H, mode=Mode.SUBTRACT)
        with Locations((33638.390369107, 12888.14336421)):
            Rectangle(CROQUIS2_W, CROQUIS2_H, mode=Mode.SUBTRACT)
        with Locations((33638.390369107, 12909.90336421)):
            Rectangle(CROQUIS2_W, CROQUIS2_H, mode=Mode.SUBTRACT)
        with Locations((33629.890369107, 12909.90336421)):
            Rectangle(CROQUIS2_W, CROQUIS2_H, mode=Mode.SUBTRACT)
        with Locations((33649.140369107, 12861.26836421)):
            Rectangle(CROQUIS2_W_3, CROQUIS2_H_3, mode=Mode.SUBTRACT)
        with Locations((33667.740369107, 12877.26836421)):
            Rectangle(CROQUIS2_W_2, CROQUIS2_H_2, mode=Mode.SUBTRACT)
        with Locations((33694.890369107, 12909.90336421)):
            Rectangle(CROQUIS2_W, CROQUIS2_H, mode=Mode.SUBTRACT)
        with Locations((33703.390369107, 12909.90336421)):
            Rectangle(CROQUIS2_W, CROQUIS2_H, mode=Mode.SUBTRACT)
        with Locations((33694.890369107, 12888.14336421)):
            Rectangle(CROQUIS2_W, CROQUIS2_H, mode=Mode.SUBTRACT)
        with Locations((33703.390369107, 12888.14336421)):
            Rectangle(CROQUIS2_W, CROQUIS2_H, mode=Mode.SUBTRACT)
        with Locations((33694.890369107, 12866.38336421)):
            Rectangle(CROQUIS2_W, CROQUIS2_H, mode=Mode.SUBTRACT)
        with Locations((33703.390369107, 12866.38336421)):
            Rectangle(CROQUIS2_W, CROQUIS2_H, mode=Mode.SUBTRACT)
    extrude(amount=SALIENTE_EXTRUIR1_DEPTH)


solid = part.part
